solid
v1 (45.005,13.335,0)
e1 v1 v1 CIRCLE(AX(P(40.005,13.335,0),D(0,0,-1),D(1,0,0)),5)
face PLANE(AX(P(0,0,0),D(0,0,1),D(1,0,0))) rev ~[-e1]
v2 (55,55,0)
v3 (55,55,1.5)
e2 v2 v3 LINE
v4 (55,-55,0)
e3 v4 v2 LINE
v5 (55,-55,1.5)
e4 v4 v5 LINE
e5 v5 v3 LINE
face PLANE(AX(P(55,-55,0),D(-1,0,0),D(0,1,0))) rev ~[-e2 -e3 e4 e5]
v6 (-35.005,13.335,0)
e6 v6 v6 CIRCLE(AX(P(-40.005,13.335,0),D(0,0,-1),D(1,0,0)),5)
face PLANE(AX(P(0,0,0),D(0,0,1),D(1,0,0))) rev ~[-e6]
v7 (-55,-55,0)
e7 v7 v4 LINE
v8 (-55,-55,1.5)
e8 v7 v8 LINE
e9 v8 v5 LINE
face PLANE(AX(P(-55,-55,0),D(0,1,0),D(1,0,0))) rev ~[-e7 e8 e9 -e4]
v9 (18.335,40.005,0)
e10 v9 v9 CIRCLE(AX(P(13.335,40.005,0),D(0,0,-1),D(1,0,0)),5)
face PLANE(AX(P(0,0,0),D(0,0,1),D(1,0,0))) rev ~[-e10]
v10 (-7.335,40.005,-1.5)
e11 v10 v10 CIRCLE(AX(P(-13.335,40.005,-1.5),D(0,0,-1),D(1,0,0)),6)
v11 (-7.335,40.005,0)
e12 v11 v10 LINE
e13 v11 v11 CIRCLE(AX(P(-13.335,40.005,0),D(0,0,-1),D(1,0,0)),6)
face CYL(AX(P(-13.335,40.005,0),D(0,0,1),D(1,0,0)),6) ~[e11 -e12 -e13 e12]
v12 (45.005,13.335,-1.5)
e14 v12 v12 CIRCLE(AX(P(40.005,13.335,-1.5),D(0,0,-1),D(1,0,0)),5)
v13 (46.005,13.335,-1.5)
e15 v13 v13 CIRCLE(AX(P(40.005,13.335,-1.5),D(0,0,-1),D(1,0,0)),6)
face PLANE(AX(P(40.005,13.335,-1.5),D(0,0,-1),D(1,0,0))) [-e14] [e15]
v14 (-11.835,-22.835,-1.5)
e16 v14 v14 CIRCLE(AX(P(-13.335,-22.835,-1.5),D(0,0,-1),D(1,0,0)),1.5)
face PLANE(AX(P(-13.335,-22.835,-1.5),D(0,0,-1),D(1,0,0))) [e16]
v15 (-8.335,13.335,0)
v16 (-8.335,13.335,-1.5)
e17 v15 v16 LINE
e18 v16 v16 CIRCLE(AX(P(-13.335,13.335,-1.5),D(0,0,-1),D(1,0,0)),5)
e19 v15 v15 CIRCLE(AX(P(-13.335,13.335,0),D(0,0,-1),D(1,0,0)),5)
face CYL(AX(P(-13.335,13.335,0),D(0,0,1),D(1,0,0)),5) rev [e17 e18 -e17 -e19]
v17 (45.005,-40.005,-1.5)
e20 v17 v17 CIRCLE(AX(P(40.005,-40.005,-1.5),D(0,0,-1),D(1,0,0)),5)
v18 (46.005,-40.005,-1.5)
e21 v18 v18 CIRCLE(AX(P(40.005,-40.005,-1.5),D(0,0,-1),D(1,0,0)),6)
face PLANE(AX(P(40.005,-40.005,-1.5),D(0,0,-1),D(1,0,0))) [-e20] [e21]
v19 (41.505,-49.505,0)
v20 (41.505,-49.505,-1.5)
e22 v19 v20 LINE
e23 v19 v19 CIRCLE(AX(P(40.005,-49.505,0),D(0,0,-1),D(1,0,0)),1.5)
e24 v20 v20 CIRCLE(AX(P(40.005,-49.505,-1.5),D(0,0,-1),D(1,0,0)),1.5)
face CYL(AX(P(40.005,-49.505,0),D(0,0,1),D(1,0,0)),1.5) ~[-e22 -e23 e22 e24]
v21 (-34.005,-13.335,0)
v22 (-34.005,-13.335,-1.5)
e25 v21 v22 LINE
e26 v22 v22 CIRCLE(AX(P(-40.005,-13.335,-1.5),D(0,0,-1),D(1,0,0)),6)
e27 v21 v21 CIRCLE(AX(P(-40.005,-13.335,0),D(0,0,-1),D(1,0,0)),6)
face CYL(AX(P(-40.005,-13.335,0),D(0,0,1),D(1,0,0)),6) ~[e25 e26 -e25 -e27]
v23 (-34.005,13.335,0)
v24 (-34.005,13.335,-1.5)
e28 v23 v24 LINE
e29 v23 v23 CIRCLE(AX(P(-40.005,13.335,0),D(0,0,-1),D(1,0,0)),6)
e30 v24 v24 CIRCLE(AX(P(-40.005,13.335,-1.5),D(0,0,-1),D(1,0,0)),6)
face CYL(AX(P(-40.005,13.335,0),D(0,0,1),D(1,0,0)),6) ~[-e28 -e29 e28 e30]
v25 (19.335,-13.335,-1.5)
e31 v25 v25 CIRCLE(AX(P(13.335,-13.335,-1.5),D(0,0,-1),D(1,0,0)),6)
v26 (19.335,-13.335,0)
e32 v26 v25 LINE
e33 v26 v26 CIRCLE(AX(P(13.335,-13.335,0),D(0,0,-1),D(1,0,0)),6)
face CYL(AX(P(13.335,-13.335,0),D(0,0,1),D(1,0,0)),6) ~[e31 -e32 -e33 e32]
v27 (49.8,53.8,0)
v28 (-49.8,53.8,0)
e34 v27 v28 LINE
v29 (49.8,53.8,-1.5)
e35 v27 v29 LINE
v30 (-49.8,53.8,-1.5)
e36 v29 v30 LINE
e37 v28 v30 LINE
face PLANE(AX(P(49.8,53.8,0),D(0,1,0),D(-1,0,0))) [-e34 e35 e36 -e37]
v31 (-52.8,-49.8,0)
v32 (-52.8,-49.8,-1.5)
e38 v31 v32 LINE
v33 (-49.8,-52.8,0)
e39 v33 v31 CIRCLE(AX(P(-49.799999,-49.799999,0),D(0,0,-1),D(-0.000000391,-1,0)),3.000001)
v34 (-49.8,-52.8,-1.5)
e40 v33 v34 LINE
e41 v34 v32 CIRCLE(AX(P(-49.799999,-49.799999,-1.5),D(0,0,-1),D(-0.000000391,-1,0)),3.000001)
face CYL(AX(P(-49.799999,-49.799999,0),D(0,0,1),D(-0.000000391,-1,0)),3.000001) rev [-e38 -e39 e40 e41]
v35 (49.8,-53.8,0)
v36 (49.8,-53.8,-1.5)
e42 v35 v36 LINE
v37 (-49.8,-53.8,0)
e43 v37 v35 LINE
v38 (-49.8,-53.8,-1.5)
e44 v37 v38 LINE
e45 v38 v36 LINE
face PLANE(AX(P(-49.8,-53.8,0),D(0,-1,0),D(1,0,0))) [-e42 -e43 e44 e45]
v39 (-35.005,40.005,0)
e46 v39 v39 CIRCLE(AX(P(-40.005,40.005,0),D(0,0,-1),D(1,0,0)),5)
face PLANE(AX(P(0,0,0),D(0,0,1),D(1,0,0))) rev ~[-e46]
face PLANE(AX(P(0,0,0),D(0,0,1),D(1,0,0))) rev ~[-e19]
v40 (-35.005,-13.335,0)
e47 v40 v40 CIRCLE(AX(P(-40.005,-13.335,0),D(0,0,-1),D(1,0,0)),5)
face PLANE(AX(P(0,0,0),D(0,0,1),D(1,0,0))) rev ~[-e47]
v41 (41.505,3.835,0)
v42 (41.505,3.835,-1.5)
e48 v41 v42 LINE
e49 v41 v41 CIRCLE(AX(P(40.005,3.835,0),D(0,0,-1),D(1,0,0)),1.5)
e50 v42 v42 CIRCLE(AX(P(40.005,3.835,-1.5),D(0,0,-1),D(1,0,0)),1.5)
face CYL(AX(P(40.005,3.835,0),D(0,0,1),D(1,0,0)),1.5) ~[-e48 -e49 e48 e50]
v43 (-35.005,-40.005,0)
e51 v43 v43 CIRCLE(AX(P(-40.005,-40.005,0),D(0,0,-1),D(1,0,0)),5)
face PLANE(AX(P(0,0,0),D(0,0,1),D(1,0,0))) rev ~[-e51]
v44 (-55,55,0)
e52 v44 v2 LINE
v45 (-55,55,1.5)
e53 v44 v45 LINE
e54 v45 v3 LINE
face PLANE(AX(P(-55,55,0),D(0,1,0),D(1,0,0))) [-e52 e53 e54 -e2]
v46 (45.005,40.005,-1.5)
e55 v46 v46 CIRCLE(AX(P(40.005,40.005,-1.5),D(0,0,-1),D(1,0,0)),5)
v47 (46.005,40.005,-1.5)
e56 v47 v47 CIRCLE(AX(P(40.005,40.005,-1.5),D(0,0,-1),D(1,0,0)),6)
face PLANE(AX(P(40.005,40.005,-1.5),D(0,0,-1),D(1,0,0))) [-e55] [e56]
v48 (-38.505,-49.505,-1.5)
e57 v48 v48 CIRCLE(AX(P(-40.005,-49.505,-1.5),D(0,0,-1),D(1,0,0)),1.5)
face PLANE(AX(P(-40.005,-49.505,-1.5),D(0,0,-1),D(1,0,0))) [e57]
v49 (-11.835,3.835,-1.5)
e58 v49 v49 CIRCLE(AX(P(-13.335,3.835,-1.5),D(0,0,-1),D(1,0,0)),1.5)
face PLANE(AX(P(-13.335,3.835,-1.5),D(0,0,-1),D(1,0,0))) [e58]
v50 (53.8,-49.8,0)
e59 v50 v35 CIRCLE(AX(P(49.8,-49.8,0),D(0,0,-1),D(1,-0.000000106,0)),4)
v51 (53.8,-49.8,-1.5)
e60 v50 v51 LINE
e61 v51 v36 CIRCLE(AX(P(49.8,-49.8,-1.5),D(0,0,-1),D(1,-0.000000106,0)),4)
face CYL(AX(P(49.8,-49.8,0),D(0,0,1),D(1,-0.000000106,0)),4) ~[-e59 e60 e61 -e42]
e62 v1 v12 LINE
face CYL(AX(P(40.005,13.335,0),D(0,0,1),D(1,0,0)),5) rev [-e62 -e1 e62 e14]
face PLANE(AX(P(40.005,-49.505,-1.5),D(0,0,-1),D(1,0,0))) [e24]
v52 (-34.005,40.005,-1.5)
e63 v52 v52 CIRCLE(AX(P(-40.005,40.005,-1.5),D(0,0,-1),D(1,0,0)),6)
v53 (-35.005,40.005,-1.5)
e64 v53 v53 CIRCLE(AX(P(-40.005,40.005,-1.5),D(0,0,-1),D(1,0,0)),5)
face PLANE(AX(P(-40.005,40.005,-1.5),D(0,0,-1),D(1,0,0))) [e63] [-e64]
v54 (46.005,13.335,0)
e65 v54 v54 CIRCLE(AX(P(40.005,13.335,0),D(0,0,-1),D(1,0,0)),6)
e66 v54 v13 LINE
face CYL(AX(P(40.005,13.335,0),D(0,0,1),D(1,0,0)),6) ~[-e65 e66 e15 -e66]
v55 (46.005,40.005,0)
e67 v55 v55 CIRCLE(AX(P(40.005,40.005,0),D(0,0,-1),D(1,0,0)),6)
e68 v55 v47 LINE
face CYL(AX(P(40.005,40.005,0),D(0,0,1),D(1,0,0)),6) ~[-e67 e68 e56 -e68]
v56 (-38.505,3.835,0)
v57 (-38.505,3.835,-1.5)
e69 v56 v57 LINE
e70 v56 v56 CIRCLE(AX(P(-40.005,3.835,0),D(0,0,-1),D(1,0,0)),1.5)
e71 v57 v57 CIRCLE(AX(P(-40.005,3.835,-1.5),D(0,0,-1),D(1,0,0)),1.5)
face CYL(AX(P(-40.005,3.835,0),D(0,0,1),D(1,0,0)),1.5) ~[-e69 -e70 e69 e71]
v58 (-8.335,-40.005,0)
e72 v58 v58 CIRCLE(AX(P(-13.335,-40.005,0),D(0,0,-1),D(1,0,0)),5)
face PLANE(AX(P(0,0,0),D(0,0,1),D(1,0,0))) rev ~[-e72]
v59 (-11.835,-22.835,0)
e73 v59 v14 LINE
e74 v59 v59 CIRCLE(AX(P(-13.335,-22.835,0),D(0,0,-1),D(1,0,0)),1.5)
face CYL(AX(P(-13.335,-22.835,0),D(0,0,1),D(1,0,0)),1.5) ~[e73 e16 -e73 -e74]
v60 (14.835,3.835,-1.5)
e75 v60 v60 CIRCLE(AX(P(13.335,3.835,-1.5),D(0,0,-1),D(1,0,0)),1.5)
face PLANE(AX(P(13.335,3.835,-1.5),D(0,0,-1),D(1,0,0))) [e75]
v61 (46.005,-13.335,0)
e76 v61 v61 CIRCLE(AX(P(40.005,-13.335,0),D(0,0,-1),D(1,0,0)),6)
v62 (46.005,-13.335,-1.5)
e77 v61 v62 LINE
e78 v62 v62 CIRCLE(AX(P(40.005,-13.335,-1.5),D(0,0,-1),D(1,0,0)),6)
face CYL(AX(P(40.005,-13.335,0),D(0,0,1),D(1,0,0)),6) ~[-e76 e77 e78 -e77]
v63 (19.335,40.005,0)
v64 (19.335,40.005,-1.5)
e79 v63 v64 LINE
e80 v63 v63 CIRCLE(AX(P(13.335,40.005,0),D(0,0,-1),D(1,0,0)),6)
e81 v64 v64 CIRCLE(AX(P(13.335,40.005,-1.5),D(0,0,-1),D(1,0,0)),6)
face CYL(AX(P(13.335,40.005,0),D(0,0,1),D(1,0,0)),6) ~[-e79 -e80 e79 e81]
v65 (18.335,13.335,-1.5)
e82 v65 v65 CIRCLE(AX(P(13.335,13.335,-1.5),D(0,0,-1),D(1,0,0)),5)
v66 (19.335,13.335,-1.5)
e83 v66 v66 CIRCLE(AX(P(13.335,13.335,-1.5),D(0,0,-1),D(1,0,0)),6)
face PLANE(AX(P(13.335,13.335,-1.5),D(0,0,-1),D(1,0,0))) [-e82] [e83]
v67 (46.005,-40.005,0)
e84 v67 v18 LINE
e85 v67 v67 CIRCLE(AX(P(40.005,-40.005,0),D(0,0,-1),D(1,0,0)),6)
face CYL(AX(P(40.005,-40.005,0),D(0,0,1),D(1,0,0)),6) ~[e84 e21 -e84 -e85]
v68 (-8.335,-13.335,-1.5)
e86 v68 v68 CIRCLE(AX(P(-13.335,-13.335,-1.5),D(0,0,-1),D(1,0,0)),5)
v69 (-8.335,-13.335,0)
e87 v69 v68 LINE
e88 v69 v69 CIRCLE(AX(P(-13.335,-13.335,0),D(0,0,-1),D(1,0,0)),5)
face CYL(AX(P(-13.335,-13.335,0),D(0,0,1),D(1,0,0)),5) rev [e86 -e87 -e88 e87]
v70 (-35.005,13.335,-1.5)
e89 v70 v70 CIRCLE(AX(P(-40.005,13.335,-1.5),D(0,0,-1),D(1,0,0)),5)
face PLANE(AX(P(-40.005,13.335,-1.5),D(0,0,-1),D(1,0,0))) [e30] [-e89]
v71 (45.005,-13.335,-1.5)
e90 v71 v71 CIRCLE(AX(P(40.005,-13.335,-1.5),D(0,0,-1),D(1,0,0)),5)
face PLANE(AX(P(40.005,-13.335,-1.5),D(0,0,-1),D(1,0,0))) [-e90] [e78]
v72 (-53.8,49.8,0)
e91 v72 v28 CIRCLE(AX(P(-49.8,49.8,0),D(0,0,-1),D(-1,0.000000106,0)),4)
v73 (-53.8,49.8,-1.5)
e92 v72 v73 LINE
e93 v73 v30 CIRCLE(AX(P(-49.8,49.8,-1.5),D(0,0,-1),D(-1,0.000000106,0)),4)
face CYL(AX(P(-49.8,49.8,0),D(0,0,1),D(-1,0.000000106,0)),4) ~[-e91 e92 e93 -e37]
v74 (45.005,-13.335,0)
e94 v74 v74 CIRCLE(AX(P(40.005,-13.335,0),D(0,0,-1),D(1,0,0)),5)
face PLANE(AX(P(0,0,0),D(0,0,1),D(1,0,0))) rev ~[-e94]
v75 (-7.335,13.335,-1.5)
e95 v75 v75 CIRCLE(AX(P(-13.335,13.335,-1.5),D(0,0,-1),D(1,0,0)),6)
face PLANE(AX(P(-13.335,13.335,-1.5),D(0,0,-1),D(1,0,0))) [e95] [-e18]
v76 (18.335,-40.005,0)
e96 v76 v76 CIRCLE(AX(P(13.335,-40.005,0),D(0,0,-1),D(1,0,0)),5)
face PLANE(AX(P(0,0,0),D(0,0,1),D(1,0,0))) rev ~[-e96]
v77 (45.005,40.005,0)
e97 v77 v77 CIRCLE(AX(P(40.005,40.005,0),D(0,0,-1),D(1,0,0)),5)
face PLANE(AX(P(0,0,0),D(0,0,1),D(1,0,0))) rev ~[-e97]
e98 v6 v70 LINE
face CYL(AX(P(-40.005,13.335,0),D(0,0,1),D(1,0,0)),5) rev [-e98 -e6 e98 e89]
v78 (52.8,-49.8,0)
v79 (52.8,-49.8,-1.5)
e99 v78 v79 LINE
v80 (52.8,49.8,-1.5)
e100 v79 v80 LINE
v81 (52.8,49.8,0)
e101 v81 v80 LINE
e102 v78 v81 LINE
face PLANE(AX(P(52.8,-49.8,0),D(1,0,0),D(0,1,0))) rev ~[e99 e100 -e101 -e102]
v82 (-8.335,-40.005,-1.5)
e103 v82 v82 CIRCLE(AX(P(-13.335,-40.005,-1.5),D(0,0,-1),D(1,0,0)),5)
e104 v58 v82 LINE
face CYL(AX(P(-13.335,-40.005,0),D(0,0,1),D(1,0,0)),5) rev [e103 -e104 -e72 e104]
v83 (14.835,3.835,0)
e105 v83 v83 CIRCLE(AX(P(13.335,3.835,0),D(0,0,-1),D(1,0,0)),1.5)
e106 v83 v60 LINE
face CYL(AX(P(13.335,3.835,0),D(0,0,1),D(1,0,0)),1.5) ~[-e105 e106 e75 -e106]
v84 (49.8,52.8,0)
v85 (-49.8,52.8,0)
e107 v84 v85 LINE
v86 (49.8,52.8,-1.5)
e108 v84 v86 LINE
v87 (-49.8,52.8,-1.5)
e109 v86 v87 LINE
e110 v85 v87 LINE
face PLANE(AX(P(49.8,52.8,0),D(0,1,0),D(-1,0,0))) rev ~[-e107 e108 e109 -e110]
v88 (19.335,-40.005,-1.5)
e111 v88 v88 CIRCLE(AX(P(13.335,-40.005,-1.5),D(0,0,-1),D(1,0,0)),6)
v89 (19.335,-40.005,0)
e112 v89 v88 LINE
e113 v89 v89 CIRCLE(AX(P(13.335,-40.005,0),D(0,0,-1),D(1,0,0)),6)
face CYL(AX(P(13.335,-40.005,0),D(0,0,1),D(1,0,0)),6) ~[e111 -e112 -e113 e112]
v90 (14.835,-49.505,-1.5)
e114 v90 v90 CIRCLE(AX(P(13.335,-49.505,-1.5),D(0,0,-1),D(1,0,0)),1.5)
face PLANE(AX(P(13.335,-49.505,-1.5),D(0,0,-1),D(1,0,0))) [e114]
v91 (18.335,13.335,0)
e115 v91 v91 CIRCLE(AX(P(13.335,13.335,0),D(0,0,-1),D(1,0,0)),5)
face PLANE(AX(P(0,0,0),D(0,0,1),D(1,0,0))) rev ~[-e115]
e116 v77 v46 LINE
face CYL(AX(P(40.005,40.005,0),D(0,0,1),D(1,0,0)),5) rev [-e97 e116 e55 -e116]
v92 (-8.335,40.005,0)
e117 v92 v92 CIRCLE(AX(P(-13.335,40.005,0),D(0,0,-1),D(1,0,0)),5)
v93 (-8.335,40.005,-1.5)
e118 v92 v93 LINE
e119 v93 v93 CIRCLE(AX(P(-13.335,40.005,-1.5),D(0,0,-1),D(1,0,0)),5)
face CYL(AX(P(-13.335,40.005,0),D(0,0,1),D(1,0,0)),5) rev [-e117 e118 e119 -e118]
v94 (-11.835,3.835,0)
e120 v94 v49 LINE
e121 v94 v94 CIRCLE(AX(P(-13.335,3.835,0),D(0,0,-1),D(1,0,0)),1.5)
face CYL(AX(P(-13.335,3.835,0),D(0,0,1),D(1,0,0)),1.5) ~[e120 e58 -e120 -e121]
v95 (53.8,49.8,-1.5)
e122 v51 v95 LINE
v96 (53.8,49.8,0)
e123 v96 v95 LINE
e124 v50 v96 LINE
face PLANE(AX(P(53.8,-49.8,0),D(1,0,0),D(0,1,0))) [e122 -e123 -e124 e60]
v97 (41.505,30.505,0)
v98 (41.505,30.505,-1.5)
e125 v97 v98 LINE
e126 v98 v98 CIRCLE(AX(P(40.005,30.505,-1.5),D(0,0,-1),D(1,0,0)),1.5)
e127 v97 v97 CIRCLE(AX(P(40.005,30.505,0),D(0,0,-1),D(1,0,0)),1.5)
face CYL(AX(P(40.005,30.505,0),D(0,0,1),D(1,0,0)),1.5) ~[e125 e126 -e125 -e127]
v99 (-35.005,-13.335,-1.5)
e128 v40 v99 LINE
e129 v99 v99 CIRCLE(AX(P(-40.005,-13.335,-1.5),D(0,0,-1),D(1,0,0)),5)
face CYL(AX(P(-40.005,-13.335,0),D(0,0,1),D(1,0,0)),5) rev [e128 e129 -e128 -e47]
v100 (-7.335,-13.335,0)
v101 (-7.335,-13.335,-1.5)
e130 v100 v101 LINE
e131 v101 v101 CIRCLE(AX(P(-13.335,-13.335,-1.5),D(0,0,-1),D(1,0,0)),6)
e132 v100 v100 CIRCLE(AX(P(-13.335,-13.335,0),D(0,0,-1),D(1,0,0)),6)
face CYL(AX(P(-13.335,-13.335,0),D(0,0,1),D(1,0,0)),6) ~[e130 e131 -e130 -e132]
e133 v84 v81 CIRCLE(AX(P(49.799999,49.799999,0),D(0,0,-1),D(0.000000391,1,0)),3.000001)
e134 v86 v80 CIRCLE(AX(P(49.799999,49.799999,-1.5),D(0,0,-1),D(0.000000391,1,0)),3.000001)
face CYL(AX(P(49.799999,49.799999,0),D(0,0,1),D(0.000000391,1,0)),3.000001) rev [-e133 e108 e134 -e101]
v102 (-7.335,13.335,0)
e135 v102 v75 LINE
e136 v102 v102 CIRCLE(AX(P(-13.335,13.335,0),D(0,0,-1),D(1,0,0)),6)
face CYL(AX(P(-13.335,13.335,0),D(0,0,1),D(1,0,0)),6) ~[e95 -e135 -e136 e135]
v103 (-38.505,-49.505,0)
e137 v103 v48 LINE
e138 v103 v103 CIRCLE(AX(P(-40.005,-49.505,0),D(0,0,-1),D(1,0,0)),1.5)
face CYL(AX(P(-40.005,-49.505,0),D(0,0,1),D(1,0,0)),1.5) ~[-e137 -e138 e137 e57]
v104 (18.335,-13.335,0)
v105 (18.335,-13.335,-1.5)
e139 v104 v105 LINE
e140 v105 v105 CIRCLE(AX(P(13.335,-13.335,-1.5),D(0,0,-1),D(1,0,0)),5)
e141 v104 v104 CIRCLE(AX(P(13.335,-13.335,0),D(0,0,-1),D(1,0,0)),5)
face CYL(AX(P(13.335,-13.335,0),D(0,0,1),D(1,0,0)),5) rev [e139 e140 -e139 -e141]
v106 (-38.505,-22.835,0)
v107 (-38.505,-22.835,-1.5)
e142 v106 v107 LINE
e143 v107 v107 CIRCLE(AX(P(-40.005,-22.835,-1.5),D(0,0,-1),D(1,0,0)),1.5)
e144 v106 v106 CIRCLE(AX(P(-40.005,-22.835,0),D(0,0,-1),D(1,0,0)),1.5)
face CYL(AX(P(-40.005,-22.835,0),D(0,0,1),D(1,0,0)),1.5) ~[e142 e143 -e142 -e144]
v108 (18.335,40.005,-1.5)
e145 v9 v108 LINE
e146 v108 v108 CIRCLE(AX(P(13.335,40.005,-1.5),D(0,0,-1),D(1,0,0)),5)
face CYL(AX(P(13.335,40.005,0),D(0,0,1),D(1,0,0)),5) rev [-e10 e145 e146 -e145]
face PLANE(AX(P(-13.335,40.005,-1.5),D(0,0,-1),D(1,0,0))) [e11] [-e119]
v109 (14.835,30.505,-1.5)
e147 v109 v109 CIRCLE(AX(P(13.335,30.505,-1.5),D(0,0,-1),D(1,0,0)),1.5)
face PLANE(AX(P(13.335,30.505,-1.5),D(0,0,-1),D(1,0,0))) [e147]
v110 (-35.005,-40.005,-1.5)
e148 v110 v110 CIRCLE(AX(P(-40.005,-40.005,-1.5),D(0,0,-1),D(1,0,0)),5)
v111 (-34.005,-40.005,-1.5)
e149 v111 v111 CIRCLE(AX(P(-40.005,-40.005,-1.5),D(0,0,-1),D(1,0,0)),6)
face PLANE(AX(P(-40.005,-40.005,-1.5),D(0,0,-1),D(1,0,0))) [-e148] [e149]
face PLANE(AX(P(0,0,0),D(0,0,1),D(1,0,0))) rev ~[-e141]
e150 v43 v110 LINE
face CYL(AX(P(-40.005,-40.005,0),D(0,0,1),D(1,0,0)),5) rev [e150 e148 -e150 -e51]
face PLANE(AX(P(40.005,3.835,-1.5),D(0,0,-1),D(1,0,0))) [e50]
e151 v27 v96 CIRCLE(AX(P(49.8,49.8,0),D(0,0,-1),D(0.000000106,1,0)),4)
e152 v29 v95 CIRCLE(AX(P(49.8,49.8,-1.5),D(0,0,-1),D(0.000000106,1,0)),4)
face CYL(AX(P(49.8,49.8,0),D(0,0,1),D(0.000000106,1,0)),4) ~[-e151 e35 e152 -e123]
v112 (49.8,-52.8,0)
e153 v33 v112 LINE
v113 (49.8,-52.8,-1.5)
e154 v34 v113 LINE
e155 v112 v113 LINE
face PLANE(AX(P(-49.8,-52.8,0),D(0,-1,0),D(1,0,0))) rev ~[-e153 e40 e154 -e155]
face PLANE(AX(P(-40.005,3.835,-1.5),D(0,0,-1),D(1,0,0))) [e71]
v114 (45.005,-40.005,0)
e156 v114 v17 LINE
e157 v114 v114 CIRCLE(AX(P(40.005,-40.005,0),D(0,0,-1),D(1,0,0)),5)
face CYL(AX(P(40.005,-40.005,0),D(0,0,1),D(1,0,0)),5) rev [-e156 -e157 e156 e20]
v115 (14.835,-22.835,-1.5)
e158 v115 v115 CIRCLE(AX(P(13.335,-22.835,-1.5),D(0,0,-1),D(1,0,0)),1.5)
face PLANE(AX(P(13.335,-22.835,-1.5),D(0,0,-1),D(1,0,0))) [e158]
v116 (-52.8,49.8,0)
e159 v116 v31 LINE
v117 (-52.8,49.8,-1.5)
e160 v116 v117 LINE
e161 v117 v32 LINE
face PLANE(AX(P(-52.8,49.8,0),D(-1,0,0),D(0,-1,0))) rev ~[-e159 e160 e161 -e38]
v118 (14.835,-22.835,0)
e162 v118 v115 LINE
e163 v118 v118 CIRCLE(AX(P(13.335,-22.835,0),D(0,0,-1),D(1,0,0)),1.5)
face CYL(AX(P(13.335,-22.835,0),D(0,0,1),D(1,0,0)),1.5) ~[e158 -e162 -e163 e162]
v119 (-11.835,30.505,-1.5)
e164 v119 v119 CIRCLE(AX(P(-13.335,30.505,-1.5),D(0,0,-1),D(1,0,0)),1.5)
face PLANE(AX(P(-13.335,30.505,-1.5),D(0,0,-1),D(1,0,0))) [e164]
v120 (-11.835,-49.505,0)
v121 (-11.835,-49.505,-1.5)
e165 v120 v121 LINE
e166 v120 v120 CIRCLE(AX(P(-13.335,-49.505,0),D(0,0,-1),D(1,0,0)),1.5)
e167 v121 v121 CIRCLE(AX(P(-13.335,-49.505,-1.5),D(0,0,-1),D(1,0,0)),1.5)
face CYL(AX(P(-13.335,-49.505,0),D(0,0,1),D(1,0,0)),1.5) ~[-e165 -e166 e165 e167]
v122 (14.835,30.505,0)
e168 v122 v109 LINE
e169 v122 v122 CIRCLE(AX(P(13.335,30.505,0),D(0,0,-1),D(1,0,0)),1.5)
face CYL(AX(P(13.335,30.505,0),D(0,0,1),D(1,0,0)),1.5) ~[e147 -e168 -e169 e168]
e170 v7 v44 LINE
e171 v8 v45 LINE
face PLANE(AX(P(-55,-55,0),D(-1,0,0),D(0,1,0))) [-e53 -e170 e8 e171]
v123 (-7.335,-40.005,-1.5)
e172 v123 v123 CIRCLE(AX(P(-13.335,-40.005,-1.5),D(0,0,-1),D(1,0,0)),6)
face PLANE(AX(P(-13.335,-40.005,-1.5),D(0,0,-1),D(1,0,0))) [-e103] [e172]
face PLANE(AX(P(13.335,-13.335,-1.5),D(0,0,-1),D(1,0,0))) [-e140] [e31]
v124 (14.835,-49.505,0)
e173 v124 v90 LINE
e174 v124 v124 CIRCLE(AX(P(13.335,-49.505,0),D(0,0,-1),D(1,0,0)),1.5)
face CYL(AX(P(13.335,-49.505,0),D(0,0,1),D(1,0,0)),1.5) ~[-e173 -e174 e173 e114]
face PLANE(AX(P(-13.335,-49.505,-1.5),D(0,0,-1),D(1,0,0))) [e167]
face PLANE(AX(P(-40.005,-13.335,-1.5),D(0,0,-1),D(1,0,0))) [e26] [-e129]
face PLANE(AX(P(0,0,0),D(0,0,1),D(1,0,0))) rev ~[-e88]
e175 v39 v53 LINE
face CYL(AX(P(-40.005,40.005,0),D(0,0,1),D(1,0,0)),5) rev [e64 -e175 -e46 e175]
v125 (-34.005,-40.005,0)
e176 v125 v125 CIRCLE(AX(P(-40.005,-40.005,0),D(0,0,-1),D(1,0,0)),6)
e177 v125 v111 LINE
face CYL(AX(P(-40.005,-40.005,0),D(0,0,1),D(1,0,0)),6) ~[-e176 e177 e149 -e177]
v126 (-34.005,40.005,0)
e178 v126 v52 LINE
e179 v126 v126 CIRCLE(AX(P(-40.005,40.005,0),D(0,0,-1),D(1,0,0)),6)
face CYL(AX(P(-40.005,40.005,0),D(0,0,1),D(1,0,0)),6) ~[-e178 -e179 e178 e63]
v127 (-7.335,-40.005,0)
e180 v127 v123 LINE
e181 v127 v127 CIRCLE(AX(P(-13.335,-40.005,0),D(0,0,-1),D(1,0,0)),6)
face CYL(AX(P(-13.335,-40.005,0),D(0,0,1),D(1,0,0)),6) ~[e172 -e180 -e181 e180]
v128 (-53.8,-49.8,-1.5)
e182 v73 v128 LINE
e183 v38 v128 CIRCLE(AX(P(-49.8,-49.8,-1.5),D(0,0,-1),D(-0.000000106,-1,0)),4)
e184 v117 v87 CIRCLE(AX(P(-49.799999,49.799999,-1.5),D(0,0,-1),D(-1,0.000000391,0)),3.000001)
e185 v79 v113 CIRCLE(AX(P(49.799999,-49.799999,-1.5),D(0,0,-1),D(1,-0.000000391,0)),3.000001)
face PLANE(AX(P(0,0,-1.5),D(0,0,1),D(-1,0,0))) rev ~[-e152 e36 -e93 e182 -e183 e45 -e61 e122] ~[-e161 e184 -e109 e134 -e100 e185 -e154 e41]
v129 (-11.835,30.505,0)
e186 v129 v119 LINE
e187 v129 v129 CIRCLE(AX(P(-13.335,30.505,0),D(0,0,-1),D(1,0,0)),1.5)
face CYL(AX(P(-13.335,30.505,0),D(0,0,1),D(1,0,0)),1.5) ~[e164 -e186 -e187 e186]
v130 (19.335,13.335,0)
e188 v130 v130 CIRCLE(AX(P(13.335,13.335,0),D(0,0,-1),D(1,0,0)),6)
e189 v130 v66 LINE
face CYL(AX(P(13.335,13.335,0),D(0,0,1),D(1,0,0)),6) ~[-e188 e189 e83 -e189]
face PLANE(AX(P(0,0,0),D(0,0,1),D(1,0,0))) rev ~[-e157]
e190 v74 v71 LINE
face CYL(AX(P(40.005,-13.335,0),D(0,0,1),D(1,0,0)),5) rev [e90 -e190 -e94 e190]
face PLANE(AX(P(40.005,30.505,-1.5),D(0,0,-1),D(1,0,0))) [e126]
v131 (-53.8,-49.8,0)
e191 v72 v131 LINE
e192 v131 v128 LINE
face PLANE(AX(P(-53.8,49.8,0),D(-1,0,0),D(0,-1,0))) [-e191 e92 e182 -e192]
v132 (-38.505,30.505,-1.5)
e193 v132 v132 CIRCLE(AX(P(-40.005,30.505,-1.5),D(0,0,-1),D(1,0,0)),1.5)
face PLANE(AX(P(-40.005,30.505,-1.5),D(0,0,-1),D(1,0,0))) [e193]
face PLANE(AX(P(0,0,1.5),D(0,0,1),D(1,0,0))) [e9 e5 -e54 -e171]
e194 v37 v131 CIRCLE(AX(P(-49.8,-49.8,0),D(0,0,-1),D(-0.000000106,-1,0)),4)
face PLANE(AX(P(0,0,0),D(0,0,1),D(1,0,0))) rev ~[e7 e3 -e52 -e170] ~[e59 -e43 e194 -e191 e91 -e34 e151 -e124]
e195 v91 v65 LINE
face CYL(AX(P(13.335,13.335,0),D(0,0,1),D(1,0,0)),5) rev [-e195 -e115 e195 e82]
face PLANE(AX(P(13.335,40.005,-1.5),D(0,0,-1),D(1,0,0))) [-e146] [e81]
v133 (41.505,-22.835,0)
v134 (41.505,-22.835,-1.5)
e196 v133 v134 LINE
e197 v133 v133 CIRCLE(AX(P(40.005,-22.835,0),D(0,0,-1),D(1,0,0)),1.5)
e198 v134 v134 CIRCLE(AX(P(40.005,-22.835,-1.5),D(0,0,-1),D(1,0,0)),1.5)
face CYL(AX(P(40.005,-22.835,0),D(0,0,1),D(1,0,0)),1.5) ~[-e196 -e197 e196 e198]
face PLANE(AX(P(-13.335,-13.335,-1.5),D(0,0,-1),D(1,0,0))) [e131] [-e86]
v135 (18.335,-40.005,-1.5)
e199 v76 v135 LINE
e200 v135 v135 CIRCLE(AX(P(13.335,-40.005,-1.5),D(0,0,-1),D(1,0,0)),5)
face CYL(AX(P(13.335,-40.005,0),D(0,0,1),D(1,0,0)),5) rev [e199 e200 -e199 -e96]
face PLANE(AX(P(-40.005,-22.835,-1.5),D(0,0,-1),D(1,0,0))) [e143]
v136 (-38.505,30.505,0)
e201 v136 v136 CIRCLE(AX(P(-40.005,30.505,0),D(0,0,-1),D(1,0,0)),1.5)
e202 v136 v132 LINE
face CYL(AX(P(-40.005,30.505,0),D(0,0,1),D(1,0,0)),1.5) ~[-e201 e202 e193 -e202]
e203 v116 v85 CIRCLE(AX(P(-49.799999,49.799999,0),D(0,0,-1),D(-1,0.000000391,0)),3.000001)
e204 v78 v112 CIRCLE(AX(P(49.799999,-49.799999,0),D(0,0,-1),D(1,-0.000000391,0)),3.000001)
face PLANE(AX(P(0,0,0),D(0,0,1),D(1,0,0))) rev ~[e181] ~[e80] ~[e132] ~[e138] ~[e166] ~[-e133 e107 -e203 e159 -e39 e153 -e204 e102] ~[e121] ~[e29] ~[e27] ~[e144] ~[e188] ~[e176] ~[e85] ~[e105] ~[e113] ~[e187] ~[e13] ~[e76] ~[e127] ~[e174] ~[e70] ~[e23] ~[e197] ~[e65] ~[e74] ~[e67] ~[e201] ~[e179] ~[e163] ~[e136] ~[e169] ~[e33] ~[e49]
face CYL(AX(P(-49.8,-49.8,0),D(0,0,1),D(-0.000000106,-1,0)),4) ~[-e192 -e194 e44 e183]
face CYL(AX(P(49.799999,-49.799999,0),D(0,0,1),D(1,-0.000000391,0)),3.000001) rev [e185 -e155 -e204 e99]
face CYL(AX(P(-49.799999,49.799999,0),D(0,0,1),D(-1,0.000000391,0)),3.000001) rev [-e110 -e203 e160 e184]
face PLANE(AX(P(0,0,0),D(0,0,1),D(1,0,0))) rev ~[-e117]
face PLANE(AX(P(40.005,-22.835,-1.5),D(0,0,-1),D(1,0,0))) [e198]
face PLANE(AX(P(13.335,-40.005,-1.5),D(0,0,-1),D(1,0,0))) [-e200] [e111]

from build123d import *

# Parameters (mm, degrees)
SKETCH_W      = 110
SKETCH_H      = 110
PAD_DEPTH     = 1.5
PAD001_DEPTH  = 1.5
SKETCH002_R   = 6
SKETCH002_R_2 = 5
SKETCH002_R_3 = 1.5
PAD002_DEPTH  = 1.5


with BuildPart() as part:
    # Sketch → Pad (new body)
    with BuildSketch(Plane.XY):
        Rectangle(SKETCH_W, SKETCH_H)
    extrude(amount=PAD_DEPTH)

    # Sketch001 → Pad001 (join)
    with BuildSketch(Plane(origin=(0, 0, 0), x_dir=(1, 0, 0), z_dir=(0, 0, -1))):
        with BuildLine():
            Line((-49.8, 53.8), (49.8, 53.8))
            ThreePointArc((53.8, 49.8), (52.628427, 52.628427), (49.8, 53.8))
            Line((53.8, 49.8), (53.8, -49.8))
            ThreePointArc((49.8, -53.8), (52.628427, -52.628427), (53.8, -49.8))
            Line((49.8, -53.8), (-49.8, -53.8))
            ThreePointArc((-53.8, -49.8), (-52.628427, -52.628427), (-49.8, -53.8))
            Line((-53.8, -49.8), (-53.8, 49.8))
            ThreePointArc((-49.8, 53.8), (-52.628427, 52.628427), (-53.8, 49.8))
        make_face()
        with BuildLine():
            Line((-49.8, 52.8), (49.8, 52.8))
            ThreePointArc((52.8, 49.8), (51.92132, 51.92132), (49.8, 52.8))
            Line((52.8, 49.8), (52.8, -49.8))
            ThreePointArc((49.8, -52.8), (51.92132, -51.92132), (52.8, -49.8))
            Line((49.8, -52.8), (-49.8, -52.8))
            ThreePointArc((-52.8, -49.8), (-51.92132, -51.92132), (-49.8, -52.8))
            Line((-52.8, -49.8), (-52.8, 49.8))
            ThreePointArc((-49.8, 52.8), (-51.92132, 51.92132), (-52.8, 49.8))
        make_face(mode=Mode.SUBTRACT)
    extrude(amount=PAD001_DEPTH)

    # Sketch002 → Pad002 (join)
    with BuildSketch(Plane(origin=(0, 0, 0), x_dir=(1, 0, 0), z_dir=(0, 0, -1))):
        with Locations((-40.005, 40.005)):
            Circle(SKETCH002_R)
        with Locations((-40.005, 40.005)):
            Circle(SKETCH002_R_2, mode=Mode.SUBTRACT)
        with Locations((-40.005, 49.505)):
            Circle(SKETCH002_R_3)
        with Locations((-13.335, 40.005)):
            Circle(SKETCH002_R)
        with Locations((-13.335, 40.005)):
            Circle(SKETCH002_R_2, mode=Mode.SUBTRACT)
        with Locations((-13.335, 49.505)):
            Circle(SKETCH002_R_3)
        with Locations((13.335, 40.005)):
            Circle(SKETCH002_R)
        with Locations((13.335, 40.005)):
            Circle(SKETCH002_R_2, mode=Mode.SUBTRACT)
        with Locations((13.335, 49.505)):
            Circle(SKETCH002_R_3)
        with Locations((40.005, 40.005)):
            Circle(SKETCH002_R)
        with Locations((40.005, 40.005)):
            Circle(SKETCH002_R_2, mode=Mode.SUBTRACT)
        with Locations((40.005, 49.505)):
            Circle(SKETCH002_R_3)
        with Locations((-40.005, 13.335)):
            Circle(SKETCH002_R)
        with Locations((-40.005, 13.335)):
            Circle(SKETCH002_R_2, mode=Mode.SUBTRACT)
        with Locations((-40.005, 22.835)):
            Circle(SKETCH002_R_3)
        with Locations((-13.335, 13.335)):
            Circle(SKETCH002_R)
        with Locations((-13.335, 13.335)):
            Circle(SKETCH002_R_2, mode=Mode.SUBTRACT)
        with Locations((-13.335, 22.835)):
            Circle(SKETCH002_R_3)
        with Locations((13.335, 13.335)):
            Circle(SKETCH002_R)
        with Locations((13.335, 13.335)):
            Circle(SKETCH002_R_2, mode=Mode.SUBTRACT)
        with Locations((13.335, 22.835)):
            Circle(SKETCH002_R_3)
        with Locations((40.005, 13.335)):
            Circle(SKETCH002_R)
        with Locations((40.005, 13.335)):
            Circle(SKETCH002_R_2, mode=Mode.SUBTRACT)
        with Locations((40.005, 22.835)):
            Circle(SKETCH002_R_3)
        with Locations((-40.005, -13.335)):
            Circle(SKETCH002_R)
        with Locations((-40.005, -13.335)):
            Circle(SKETCH002_R_2, mode=Mode.SUBTRACT)
        with Locations((-40.005, -3.835)):
            Circle(SKETCH002_R_3)
        with Locations((-13.335, -13.335)):
            Circle(SKETCH002_R)
        with Locations((-13.335, -13.335)):
            Circle(SKETCH002_R_2, mode=Mode.SUBTRACT)
        with Locations((-13.335, -3.835)):
            Circle(SKETCH002_R_3)
        with Locations((13.335, -13.335)):
            Circle(SKETCH002_R)
        with Locations((13.335, -13.335)):
            Circle(SKETCH002_R_2, mode=Mode.SUBTRACT)
        with Locations((13.335, -3.835)):
            Circle(SKETCH002_R_3)
        with Locations((40.005, -13.335)):
            Circle(SKETCH002_R)
        with Locations((40.005, -13.335)):
            Circle(SKETCH002_R_2, mode=Mode.SUBTRACT)
        with Locations((40.005, -3.835)):
            Circle(SKETCH002_R_3)
        with Locations((-40.005, -40.005)):
            Circle(SKETCH002_R)
        with Locations((-40.005, -40.005)):
            Circle(SKETCH002_R_2, mode=Mode.SUBTRACT)
        with Locations((-40.005, -30.505)):
            Circle(SKETCH002_R_3)
        with Locations((-13.335, -40.005)):
            Circle(SKETCH002_R)
        with Locations((-13.335, -40.005)):
            Circle(SKETCH002_R_2, mode=Mode.SUBTRACT)
        with Locations((-13.335, -30.505)):
            Circle(SKETCH002_R_3)
        with Locations((13.335, -40.005)):
            Circle(SKETCH002_R)
        with Locations((13.335, -40.005)):
            Circle(SKETCH002_R_2, mode=Mode.SUBTRACT)
        with Locations((13.335, -30.505)):
            Circle(SKETCH002_R_3)
        with Locations((40.005, -40.005)):
            Circle(SKETCH002_R)
        with Locations((40.005, -40.005)):
            Circle(SKETCH002_R_2, mode=Mode.SUBTRACT)
        with Locations((40.005, -30.505)):
            Circle(SKETCH002_R_3)
    extrude(amount=PAD002_DEPTH)


solid = part.part
